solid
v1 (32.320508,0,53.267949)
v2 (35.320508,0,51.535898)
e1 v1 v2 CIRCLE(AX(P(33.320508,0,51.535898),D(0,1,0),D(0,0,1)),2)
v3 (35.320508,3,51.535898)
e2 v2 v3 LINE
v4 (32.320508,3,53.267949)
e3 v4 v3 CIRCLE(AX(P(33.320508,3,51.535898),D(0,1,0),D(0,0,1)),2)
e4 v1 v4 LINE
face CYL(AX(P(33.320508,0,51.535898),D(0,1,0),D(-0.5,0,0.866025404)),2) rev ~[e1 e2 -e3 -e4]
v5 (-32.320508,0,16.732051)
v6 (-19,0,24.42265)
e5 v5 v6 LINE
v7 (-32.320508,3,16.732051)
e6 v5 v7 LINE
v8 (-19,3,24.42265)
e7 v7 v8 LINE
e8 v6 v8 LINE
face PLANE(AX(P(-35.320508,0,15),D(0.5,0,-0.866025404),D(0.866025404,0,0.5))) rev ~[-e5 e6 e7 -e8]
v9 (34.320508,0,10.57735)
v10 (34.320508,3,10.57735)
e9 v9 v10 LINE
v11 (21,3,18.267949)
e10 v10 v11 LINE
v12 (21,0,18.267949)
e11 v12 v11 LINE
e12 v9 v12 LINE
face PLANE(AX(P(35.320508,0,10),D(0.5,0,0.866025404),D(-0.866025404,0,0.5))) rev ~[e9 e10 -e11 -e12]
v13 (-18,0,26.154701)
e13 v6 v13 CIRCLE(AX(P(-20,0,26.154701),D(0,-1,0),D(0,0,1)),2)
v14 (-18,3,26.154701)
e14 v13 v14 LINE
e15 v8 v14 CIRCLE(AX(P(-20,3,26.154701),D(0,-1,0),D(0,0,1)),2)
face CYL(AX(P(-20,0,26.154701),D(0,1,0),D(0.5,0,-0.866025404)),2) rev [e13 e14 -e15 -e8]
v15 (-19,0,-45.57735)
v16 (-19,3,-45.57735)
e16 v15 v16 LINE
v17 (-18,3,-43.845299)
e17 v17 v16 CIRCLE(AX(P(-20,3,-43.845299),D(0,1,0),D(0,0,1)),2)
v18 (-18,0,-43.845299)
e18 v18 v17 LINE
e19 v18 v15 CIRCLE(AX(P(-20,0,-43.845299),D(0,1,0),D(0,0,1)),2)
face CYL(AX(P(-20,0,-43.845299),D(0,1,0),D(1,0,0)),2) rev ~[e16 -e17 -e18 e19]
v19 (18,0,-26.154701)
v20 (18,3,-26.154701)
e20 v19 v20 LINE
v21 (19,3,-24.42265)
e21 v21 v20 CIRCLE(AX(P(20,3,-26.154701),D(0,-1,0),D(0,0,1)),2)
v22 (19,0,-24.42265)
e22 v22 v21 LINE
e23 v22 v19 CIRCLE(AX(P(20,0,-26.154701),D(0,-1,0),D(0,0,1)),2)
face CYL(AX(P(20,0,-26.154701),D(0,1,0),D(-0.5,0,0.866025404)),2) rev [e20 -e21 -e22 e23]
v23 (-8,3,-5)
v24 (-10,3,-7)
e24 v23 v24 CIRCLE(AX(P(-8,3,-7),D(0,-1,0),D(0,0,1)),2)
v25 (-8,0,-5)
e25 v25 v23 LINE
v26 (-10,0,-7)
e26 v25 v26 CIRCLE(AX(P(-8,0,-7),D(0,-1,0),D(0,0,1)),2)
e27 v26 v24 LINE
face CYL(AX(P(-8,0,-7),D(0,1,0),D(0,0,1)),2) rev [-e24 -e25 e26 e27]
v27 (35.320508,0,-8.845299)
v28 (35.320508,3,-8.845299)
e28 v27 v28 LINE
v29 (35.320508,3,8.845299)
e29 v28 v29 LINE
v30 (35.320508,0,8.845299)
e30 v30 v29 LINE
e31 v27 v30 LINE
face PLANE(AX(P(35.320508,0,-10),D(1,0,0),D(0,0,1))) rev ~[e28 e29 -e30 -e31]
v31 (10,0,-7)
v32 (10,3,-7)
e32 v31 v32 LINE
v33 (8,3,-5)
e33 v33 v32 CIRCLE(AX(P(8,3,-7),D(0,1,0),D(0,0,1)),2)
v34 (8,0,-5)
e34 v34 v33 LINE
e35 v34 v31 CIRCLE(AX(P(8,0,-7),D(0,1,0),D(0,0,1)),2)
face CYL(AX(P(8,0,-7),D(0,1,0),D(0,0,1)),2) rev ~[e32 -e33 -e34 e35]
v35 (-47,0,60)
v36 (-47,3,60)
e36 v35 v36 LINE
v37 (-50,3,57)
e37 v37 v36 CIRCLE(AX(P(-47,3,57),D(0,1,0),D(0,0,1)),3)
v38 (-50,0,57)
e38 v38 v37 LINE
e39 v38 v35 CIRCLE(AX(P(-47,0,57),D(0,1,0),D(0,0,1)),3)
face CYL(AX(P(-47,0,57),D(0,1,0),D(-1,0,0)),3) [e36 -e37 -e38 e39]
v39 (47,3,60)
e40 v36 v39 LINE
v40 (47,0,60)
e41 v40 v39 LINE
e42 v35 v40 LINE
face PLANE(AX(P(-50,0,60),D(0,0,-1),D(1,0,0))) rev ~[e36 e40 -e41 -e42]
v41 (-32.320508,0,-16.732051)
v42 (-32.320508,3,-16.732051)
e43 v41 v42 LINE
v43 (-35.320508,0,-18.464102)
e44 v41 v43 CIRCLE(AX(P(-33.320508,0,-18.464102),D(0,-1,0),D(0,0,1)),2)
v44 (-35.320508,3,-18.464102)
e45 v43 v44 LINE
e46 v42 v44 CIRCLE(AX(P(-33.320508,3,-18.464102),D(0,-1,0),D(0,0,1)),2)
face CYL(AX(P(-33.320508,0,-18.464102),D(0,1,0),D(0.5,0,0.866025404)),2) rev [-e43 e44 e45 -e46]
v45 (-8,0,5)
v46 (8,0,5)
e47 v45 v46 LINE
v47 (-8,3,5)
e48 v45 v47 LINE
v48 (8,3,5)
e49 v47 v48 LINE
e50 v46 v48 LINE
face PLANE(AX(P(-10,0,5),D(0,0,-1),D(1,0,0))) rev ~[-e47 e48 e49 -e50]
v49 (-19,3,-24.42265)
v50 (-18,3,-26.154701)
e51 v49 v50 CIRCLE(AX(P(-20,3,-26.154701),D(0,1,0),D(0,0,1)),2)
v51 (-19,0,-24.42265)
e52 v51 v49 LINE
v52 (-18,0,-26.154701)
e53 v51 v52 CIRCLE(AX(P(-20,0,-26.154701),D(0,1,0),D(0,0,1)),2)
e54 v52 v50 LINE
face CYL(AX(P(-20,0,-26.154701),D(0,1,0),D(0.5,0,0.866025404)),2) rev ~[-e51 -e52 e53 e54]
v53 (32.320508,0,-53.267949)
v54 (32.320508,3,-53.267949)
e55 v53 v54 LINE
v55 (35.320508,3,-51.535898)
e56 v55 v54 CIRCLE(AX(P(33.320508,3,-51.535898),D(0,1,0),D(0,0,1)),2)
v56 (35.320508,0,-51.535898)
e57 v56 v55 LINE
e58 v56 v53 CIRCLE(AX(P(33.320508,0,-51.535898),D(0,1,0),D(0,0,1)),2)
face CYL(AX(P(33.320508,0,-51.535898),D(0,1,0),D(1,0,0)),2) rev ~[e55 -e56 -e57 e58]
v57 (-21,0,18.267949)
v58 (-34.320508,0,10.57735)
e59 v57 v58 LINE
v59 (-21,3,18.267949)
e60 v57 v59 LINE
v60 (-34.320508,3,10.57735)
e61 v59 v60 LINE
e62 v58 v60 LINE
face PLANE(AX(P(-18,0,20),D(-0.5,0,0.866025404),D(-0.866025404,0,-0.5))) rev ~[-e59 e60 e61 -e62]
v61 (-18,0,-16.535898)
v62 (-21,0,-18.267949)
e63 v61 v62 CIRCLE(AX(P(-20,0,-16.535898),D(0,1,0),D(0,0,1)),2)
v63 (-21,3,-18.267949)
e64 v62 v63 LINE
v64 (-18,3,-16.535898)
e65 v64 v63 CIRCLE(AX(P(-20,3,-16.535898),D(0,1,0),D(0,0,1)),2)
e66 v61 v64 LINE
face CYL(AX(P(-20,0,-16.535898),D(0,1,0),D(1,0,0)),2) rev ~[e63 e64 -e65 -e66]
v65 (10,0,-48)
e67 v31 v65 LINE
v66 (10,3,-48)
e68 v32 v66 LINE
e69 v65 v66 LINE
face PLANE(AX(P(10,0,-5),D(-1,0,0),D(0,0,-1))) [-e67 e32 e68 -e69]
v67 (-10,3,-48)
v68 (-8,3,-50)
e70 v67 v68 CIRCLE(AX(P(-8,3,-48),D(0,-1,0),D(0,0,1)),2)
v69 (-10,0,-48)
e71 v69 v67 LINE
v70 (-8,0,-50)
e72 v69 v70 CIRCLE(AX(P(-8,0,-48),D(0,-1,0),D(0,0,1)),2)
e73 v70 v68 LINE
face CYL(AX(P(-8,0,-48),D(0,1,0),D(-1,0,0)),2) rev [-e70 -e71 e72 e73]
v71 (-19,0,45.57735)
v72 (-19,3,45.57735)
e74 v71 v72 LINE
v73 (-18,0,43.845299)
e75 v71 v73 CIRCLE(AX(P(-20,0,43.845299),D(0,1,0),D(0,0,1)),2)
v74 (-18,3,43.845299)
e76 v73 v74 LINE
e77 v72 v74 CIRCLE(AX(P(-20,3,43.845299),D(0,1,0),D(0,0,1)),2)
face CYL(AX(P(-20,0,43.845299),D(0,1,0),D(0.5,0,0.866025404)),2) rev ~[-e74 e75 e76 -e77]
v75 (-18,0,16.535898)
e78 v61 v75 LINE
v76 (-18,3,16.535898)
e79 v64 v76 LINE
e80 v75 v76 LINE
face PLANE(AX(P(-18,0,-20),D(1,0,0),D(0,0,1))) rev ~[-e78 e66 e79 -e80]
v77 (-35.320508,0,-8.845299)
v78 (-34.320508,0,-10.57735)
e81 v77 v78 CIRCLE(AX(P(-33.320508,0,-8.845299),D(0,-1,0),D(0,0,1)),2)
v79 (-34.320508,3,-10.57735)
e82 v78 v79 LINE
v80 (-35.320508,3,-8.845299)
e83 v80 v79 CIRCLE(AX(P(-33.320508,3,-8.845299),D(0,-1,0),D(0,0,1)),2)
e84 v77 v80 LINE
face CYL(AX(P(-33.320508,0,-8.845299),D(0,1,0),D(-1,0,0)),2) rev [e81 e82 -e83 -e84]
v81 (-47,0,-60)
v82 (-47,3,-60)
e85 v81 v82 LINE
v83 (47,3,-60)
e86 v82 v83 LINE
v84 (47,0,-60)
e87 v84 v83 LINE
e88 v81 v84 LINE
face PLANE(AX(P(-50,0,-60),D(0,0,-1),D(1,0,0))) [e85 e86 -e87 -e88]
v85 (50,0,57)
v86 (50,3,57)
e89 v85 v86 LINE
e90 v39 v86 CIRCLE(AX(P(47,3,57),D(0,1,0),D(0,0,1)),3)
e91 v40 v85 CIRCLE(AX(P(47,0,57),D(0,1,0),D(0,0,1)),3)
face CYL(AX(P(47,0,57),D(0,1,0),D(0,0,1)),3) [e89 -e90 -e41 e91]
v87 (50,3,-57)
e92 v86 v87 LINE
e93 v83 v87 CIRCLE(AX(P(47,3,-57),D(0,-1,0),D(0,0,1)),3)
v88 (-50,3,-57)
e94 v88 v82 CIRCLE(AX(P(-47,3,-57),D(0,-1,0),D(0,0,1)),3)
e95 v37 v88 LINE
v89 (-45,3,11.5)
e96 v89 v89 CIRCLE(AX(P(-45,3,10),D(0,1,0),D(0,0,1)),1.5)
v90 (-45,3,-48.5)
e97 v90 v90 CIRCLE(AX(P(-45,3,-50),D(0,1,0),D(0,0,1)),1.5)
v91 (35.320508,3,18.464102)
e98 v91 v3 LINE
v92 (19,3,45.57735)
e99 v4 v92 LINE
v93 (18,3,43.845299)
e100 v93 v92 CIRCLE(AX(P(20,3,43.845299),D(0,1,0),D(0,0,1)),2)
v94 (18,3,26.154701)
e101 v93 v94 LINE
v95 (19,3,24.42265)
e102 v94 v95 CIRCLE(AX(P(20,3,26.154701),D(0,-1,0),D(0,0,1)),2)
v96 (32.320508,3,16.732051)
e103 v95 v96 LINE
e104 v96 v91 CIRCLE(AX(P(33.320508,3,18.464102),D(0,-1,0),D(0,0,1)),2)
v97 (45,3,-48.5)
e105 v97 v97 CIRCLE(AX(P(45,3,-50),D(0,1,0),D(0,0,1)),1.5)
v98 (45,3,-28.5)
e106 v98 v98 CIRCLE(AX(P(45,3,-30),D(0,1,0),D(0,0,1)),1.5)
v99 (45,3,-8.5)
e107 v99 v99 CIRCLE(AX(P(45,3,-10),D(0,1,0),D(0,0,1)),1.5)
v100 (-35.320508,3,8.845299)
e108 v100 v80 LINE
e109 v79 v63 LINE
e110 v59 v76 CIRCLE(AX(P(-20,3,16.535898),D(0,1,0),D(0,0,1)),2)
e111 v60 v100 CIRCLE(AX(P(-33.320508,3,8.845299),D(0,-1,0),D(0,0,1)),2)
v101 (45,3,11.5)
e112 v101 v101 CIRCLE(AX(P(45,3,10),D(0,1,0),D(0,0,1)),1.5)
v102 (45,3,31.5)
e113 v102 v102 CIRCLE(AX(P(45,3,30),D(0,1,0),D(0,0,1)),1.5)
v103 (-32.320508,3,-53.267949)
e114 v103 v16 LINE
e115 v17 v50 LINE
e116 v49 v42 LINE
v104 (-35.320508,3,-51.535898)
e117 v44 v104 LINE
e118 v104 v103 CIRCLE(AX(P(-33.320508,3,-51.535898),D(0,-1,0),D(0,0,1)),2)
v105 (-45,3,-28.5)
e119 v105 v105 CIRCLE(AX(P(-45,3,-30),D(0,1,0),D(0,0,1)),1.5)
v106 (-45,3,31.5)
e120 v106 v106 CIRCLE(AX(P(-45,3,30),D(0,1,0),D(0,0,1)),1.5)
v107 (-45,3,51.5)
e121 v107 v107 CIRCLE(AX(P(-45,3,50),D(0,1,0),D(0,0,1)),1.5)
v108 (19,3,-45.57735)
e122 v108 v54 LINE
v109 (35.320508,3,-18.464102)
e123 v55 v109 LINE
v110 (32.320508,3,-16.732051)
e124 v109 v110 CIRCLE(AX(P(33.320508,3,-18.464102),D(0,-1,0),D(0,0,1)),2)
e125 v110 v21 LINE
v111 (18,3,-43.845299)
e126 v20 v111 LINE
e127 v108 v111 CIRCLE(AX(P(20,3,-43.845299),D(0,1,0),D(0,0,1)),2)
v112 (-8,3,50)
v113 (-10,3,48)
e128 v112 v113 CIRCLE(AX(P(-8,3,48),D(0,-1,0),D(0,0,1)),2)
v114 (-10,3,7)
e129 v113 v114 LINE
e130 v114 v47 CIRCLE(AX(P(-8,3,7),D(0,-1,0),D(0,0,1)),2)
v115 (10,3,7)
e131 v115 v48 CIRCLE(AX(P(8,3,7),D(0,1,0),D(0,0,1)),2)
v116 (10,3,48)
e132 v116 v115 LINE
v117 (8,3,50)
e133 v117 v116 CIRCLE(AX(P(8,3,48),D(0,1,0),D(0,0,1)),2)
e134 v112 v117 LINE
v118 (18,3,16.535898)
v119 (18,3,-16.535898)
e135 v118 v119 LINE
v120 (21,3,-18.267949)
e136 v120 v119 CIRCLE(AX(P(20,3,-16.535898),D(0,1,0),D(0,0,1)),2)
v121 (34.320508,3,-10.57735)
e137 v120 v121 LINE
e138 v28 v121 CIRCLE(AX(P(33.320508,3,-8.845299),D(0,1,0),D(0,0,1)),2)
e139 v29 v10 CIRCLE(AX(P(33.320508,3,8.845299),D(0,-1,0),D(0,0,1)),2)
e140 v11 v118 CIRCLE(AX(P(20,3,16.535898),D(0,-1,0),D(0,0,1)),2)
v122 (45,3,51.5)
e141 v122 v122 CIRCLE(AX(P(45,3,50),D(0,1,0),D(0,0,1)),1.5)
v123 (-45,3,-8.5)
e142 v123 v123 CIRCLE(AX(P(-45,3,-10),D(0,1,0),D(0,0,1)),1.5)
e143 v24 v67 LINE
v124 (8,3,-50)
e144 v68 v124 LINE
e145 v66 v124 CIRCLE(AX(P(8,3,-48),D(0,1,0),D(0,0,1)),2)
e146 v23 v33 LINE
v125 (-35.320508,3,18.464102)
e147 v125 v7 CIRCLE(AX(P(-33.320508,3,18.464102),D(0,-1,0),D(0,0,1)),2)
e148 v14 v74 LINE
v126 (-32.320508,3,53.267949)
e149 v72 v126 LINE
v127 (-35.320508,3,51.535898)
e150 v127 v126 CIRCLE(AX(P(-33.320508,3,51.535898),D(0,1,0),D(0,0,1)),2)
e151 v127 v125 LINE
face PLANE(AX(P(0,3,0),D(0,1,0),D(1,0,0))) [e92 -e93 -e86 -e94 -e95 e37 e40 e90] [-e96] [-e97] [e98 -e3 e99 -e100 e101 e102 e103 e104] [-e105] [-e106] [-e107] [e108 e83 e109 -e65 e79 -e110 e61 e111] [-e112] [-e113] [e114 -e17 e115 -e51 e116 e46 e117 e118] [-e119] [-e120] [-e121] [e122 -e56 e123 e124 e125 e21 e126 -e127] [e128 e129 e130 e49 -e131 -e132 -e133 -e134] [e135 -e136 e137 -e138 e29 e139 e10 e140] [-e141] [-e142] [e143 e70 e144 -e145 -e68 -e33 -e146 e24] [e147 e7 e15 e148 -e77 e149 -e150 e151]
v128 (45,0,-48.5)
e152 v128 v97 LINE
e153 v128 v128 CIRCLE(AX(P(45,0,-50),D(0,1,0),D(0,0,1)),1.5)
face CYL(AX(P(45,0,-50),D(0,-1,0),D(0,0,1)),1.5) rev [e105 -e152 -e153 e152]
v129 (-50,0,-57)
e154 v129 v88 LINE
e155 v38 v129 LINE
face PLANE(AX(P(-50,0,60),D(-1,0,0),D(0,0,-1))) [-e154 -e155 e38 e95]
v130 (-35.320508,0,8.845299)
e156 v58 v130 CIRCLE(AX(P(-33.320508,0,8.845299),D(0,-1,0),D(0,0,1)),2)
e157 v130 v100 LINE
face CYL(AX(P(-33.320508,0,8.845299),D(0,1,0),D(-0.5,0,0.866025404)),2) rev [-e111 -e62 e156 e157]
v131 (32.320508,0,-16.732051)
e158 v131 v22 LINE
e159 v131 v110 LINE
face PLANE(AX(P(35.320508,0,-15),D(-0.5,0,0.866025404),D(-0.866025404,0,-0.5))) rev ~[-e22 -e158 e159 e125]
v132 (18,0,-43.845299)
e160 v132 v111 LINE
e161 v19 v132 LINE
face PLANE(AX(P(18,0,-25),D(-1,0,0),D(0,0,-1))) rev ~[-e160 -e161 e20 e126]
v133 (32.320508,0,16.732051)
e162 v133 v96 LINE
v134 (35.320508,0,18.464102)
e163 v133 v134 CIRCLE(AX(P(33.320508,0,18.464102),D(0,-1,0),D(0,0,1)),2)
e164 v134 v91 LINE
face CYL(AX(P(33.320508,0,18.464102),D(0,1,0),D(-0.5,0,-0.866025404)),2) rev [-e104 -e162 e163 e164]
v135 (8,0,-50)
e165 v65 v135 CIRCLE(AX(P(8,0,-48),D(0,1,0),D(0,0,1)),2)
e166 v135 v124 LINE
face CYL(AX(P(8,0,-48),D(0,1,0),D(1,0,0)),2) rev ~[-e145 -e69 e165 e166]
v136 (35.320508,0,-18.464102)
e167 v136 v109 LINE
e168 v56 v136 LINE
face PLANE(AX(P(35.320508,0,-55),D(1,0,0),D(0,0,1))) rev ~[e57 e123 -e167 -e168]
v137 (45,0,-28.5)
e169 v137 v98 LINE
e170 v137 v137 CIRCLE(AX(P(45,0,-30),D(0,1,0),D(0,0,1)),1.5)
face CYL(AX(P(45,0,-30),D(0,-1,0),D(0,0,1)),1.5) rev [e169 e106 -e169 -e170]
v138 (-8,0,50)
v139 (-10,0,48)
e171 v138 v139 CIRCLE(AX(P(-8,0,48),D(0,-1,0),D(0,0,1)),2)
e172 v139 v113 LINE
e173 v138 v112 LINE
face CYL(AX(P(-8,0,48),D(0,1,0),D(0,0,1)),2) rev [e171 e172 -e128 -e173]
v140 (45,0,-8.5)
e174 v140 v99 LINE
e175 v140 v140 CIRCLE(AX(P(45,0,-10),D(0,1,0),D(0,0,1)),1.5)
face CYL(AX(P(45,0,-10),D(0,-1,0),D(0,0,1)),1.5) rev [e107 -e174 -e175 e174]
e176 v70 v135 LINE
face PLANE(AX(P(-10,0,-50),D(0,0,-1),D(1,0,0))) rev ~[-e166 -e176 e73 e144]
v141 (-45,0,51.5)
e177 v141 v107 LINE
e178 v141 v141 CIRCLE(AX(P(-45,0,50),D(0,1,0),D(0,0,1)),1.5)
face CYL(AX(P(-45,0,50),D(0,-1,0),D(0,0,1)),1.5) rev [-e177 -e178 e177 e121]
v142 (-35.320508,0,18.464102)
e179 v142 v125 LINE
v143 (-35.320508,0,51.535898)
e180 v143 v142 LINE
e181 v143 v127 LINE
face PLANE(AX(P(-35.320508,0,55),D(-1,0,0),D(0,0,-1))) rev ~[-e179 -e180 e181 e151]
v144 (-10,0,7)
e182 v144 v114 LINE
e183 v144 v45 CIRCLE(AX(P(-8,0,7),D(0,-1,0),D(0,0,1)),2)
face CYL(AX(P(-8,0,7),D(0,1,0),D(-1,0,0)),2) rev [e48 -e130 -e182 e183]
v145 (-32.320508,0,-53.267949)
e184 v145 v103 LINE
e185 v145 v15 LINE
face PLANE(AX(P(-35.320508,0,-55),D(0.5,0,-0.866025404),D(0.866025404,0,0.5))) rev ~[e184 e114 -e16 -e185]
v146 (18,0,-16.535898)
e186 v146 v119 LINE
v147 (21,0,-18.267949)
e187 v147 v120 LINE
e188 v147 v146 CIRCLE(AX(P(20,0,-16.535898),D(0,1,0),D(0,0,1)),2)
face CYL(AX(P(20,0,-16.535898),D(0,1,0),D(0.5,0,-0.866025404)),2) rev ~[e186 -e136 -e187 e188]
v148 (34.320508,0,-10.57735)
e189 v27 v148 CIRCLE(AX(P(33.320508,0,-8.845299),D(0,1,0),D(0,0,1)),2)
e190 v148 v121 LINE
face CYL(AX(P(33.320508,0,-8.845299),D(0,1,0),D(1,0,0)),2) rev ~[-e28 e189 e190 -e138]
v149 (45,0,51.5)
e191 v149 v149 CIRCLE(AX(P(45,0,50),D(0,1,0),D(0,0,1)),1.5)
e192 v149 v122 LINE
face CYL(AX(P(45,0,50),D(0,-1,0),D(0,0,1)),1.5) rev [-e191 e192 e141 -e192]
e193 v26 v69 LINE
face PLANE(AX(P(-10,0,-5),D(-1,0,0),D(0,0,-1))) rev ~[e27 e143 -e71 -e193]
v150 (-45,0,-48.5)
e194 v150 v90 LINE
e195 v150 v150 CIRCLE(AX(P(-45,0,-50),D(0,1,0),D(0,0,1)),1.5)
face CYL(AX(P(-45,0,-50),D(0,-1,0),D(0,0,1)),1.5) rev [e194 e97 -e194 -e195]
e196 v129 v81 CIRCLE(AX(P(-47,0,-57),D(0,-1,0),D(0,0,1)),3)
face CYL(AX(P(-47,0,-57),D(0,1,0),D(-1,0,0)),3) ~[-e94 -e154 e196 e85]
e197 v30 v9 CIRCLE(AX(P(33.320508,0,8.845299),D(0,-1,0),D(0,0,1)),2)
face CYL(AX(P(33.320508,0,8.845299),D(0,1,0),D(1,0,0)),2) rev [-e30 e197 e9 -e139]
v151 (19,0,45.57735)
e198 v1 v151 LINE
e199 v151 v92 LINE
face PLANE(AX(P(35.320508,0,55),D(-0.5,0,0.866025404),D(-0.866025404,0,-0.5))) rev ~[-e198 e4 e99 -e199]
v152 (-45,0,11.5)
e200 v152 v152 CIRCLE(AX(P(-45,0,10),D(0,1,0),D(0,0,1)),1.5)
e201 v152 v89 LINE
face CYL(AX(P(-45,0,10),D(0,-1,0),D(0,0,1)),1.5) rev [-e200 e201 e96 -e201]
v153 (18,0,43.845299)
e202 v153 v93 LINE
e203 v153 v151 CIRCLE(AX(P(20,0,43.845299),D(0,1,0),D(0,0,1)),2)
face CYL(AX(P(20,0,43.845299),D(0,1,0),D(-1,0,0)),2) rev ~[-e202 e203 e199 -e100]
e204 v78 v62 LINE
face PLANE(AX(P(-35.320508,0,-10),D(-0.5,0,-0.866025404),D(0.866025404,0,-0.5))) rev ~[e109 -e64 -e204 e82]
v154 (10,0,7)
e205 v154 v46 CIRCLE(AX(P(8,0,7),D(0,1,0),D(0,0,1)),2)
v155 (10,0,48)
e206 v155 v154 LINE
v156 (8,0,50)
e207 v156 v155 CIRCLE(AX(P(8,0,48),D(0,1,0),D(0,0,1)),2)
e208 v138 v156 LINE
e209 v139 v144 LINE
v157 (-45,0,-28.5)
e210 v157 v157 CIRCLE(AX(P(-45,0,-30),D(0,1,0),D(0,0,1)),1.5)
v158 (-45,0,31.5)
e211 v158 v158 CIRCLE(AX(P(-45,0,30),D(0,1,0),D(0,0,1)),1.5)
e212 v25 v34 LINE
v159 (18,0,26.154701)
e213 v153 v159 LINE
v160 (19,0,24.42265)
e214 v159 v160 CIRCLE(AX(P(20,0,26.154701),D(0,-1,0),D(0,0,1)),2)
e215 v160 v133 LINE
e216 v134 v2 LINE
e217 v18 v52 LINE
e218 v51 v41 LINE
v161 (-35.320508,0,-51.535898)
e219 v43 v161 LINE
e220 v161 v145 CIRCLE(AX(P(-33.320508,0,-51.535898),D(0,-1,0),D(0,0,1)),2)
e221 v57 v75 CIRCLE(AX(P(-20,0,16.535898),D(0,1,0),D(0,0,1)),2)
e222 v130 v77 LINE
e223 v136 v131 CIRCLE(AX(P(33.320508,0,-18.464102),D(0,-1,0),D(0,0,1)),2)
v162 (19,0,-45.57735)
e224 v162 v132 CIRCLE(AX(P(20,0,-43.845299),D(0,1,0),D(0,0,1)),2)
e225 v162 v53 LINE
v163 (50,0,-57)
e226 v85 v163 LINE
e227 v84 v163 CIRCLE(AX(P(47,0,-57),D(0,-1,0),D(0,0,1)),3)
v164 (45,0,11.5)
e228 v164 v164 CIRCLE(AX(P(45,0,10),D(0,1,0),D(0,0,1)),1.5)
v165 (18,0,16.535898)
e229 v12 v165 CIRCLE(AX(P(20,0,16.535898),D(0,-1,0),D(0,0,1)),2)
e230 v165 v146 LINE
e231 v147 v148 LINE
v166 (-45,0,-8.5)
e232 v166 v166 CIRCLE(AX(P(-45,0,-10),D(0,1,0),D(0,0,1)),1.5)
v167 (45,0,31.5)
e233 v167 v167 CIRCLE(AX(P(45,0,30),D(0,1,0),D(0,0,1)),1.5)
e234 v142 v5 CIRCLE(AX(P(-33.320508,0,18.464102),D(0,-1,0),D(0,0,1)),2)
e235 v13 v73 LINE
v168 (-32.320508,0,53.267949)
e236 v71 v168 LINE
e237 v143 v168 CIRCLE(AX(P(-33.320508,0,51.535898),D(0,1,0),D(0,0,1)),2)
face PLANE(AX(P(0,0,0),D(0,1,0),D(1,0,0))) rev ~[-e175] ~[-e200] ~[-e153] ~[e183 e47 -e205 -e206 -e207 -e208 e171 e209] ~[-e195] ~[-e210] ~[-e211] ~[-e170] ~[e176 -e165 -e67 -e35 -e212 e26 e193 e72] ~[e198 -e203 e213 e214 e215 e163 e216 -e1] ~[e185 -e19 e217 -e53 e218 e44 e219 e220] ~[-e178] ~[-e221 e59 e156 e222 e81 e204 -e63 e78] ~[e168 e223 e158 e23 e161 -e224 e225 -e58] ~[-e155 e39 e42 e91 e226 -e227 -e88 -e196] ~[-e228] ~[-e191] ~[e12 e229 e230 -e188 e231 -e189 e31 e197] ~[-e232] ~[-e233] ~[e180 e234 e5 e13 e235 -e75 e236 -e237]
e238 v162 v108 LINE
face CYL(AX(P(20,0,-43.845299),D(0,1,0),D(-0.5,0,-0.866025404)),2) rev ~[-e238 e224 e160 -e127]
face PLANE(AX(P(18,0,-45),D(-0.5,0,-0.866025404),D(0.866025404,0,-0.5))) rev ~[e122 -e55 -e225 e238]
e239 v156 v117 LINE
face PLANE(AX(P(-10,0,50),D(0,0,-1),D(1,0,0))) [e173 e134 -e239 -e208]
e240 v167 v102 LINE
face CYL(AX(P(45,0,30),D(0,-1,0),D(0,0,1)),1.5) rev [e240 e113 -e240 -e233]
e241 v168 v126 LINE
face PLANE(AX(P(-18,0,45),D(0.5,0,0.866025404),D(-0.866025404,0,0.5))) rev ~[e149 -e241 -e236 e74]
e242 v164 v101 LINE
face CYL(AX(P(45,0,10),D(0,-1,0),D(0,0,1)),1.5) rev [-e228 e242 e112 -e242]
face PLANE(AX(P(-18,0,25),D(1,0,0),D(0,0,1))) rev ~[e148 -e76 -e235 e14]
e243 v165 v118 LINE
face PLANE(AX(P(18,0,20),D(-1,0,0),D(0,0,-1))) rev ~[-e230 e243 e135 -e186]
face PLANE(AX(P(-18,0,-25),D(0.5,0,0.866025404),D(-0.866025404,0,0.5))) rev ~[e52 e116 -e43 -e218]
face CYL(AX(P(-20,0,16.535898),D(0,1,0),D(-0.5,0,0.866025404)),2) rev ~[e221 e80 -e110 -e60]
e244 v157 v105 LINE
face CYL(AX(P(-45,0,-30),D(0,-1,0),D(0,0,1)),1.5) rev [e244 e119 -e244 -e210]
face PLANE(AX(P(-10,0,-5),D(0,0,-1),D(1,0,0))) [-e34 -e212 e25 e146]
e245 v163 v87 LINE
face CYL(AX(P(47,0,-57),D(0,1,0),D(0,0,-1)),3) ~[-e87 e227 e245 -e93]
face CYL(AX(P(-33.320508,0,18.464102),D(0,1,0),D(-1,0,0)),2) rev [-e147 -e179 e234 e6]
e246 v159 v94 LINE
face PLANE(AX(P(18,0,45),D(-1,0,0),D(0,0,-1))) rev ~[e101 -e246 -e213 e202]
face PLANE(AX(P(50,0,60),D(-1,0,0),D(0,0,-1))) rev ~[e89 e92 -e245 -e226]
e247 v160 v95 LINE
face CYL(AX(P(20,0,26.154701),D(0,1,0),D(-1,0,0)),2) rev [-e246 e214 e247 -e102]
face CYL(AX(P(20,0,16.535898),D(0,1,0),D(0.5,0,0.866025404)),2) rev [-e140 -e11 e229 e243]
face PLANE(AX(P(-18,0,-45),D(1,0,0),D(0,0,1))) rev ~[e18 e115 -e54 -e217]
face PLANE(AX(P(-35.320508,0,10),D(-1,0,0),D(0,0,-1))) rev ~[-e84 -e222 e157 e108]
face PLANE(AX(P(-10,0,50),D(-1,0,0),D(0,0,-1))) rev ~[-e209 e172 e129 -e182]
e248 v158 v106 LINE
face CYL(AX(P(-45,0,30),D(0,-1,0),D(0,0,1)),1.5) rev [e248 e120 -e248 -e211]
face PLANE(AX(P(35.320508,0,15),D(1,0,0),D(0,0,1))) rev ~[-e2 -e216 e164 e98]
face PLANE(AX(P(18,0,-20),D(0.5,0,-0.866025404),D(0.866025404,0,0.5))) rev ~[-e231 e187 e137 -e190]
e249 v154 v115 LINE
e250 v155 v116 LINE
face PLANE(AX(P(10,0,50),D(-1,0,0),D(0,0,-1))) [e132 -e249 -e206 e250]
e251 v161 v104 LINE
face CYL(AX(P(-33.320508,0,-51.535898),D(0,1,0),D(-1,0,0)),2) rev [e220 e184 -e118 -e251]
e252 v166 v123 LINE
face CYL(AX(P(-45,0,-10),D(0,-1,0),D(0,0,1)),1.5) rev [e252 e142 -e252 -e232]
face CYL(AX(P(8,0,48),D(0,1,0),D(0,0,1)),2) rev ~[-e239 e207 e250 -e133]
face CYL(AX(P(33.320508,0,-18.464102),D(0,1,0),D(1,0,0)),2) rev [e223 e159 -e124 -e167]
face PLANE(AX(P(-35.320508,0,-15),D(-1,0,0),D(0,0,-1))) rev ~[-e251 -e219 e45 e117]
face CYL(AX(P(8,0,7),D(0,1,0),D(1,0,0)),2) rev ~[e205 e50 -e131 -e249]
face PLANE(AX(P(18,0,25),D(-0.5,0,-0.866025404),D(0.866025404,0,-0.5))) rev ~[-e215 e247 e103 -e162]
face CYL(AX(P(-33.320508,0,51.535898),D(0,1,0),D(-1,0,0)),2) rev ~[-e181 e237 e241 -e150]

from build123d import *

# Parameters (mm, degrees)
SKETCH_1_W      = 100
SKETCH_1_H      = 120
SKETCH_1_R      = 1.5
SKETCH_1_W_2    = 20
SKETCH_1_H_2    = 45
EXTRUDE_1_DEPTH = 3
FILLET_1_R      = 3
FILLET_2_R      = 2


with BuildPart() as part:
    # 草图1 → 凸台-拉伸1 (new body)
    with BuildSketch(Plane(origin=(0, 0, 0), x_dir=(1, 0, 0), z_dir=(0, 1, 0))):
        Rectangle(SKETCH_1_W, SKETCH_1_H)
        with Locations(Location((-45, -50, 0), (0, 0, 270))):
            Circle(SKETCH_1_R, mode=Mode.SUBTRACT)
        with Locations(Location((-45, -30, 0), (0, 0, 270))):
            Circle(SKETCH_1_R, mode=Mode.SUBTRACT)
        Polygon((-35.320508076, -15), (-18, -25), (-18, -45), (-35.320508076, -55), align=None, mode=Mode.SUBTRACT)
        with Locations(Location((-45, -10, 0), (0, 0, 270))):
            Circle(SKETCH_1_R, mode=Mode.SUBTRACT)
        Polygon((-35.320508076, -10), (-35.320508076, 10), (-18, 20), (-18, -20), align=None, mode=Mode.SUBTRACT)
        with Locations((0, -27.5)):
            Rectangle(SKETCH_1_W_2, SKETCH_1_H_2, mode=Mode.SUBTRACT)
        with Locations((0, 27.5)):
            Rectangle(SKETCH_1_W_2, SKETCH_1_H_2, mode=Mode.SUBTRACT)
        with Locations(Location((45, -50, 0), (0, 0, 270))):
            Circle(SKETCH_1_R, mode=Mode.SUBTRACT)
        Polygon((18, -25), (35.320508076, -15), (35.320508076, -55), (18, -45), align=None, mode=Mode.SUBTRACT)
        with Locations(Location((45, -30, 0), (0, 0, 270))):
            Circle(SKETCH_1_R, mode=Mode.SUBTRACT)
        Polygon((35.320508076, -10), (18, -20), (18, 20), (35.320508076, 10), align=None, mode=Mode.SUBTRACT)
        with Locations(Location((45, -10, 0), (0, 0, 270))):
            Circle(SKETCH_1_R, mode=Mode.SUBTRACT)
        with Locations(Location((-45, 10, 0), (0, 0, 270))):
            Circle(SKETCH_1_R, mode=Mode.SUBTRACT)
        with Locations(Location((-45, 30, 0), (0, 0, 270))):
            Circle(SKETCH_1_R, mode=Mode.SUBTRACT)
        Polygon((-35.320508076, 15), (-35.320508076, 55), (-18, 45), (-18, 25), align=None, mode=Mode.SUBTRACT)
        with Locations(Location((-45, 50, 0), (0, 0, 270))):
            Circle(SKETCH_1_R, mode=Mode.SUBTRACT)
        with Locations(Location((45, 10, 0), (0, 0, 270))):
            Circle(SKETCH_1_R, mode=Mode.SUBTRACT)
        with Locations(Location((45, 30, 0), (0, 0, 270))):
            Circle(SKETCH_1_R, mode=Mode.SUBTRACT)
        Polygon((35.320508076, 15), (18, 25), (18, 45), (35.320508076, 55), align=None, mode=Mode.SUBTRACT)
        with Locations(Location((45, 50, 0), (0, 0, 270))):
            Circle(SKETCH_1_R, mode=Mode.SUBTRACT)
    extrude(amount=EXTRUDE_1_DEPTH)

    # 圆角1
    fillet_1_edges = [part.edges().sort_by_distance(p)[0] for p in [
        (-50, 1.5, 60),
        (-50, 1.5, -60),
        (50, 1.5, -60),
        (50, 1.5, 60),
    ]]
    fillet(fillet_1_edges, radius=FILLET_1_R)

    # 圆角2
    fillet_2_edges = [part.edges().sort_by_distance(p)[0] for p in [
        (18, 1.5, -25),
        (35.320508076, 1.5, -15),
        (35.320508076, 1.5, -55),
        (18, 1.5, -45),
        (18, 1.5, 20),
        (35.320508076, 1.5, 10),
        (35.320508076, 1.5, -10),
        (18, 1.5, -20),
        (-18, 1.5, 25),
        (-35.320508076, 1.5, 15),
        (-35.320508076, 1.5, 55),
        (-18, 1.5, 45),
        (-35.320508076, 1.5, -55),
        (-35.320508076, 1.5, -15),
        (-18, 1.5, -25),
        (-18, 1.5, -45),
        (-35.320508076, 1.5, -10),
        (-35.320508076, 1.5, 10),
        (-18, 1.5, 20),
        (-18, 1.5, -20),
        (18, 1.5, 45),
        (35.320508076, 1.5, 55),
        (35.320508076, 1.5, 15),
        (18, 1.5, 25),
        (10, 1.5, 5),
        (-10, 1.5, 5),
        (-10, 1.5, 50),
        (10, 1.5, 50),
        (10, 1.5, -50),
        (-10, 1.5, -50),
        (-10, 1.5, -5),
        (10, 1.5, -5),
    ]]
    fillet(fillet_2_edges, radius=FILLET_2_R)


solid = part.part
